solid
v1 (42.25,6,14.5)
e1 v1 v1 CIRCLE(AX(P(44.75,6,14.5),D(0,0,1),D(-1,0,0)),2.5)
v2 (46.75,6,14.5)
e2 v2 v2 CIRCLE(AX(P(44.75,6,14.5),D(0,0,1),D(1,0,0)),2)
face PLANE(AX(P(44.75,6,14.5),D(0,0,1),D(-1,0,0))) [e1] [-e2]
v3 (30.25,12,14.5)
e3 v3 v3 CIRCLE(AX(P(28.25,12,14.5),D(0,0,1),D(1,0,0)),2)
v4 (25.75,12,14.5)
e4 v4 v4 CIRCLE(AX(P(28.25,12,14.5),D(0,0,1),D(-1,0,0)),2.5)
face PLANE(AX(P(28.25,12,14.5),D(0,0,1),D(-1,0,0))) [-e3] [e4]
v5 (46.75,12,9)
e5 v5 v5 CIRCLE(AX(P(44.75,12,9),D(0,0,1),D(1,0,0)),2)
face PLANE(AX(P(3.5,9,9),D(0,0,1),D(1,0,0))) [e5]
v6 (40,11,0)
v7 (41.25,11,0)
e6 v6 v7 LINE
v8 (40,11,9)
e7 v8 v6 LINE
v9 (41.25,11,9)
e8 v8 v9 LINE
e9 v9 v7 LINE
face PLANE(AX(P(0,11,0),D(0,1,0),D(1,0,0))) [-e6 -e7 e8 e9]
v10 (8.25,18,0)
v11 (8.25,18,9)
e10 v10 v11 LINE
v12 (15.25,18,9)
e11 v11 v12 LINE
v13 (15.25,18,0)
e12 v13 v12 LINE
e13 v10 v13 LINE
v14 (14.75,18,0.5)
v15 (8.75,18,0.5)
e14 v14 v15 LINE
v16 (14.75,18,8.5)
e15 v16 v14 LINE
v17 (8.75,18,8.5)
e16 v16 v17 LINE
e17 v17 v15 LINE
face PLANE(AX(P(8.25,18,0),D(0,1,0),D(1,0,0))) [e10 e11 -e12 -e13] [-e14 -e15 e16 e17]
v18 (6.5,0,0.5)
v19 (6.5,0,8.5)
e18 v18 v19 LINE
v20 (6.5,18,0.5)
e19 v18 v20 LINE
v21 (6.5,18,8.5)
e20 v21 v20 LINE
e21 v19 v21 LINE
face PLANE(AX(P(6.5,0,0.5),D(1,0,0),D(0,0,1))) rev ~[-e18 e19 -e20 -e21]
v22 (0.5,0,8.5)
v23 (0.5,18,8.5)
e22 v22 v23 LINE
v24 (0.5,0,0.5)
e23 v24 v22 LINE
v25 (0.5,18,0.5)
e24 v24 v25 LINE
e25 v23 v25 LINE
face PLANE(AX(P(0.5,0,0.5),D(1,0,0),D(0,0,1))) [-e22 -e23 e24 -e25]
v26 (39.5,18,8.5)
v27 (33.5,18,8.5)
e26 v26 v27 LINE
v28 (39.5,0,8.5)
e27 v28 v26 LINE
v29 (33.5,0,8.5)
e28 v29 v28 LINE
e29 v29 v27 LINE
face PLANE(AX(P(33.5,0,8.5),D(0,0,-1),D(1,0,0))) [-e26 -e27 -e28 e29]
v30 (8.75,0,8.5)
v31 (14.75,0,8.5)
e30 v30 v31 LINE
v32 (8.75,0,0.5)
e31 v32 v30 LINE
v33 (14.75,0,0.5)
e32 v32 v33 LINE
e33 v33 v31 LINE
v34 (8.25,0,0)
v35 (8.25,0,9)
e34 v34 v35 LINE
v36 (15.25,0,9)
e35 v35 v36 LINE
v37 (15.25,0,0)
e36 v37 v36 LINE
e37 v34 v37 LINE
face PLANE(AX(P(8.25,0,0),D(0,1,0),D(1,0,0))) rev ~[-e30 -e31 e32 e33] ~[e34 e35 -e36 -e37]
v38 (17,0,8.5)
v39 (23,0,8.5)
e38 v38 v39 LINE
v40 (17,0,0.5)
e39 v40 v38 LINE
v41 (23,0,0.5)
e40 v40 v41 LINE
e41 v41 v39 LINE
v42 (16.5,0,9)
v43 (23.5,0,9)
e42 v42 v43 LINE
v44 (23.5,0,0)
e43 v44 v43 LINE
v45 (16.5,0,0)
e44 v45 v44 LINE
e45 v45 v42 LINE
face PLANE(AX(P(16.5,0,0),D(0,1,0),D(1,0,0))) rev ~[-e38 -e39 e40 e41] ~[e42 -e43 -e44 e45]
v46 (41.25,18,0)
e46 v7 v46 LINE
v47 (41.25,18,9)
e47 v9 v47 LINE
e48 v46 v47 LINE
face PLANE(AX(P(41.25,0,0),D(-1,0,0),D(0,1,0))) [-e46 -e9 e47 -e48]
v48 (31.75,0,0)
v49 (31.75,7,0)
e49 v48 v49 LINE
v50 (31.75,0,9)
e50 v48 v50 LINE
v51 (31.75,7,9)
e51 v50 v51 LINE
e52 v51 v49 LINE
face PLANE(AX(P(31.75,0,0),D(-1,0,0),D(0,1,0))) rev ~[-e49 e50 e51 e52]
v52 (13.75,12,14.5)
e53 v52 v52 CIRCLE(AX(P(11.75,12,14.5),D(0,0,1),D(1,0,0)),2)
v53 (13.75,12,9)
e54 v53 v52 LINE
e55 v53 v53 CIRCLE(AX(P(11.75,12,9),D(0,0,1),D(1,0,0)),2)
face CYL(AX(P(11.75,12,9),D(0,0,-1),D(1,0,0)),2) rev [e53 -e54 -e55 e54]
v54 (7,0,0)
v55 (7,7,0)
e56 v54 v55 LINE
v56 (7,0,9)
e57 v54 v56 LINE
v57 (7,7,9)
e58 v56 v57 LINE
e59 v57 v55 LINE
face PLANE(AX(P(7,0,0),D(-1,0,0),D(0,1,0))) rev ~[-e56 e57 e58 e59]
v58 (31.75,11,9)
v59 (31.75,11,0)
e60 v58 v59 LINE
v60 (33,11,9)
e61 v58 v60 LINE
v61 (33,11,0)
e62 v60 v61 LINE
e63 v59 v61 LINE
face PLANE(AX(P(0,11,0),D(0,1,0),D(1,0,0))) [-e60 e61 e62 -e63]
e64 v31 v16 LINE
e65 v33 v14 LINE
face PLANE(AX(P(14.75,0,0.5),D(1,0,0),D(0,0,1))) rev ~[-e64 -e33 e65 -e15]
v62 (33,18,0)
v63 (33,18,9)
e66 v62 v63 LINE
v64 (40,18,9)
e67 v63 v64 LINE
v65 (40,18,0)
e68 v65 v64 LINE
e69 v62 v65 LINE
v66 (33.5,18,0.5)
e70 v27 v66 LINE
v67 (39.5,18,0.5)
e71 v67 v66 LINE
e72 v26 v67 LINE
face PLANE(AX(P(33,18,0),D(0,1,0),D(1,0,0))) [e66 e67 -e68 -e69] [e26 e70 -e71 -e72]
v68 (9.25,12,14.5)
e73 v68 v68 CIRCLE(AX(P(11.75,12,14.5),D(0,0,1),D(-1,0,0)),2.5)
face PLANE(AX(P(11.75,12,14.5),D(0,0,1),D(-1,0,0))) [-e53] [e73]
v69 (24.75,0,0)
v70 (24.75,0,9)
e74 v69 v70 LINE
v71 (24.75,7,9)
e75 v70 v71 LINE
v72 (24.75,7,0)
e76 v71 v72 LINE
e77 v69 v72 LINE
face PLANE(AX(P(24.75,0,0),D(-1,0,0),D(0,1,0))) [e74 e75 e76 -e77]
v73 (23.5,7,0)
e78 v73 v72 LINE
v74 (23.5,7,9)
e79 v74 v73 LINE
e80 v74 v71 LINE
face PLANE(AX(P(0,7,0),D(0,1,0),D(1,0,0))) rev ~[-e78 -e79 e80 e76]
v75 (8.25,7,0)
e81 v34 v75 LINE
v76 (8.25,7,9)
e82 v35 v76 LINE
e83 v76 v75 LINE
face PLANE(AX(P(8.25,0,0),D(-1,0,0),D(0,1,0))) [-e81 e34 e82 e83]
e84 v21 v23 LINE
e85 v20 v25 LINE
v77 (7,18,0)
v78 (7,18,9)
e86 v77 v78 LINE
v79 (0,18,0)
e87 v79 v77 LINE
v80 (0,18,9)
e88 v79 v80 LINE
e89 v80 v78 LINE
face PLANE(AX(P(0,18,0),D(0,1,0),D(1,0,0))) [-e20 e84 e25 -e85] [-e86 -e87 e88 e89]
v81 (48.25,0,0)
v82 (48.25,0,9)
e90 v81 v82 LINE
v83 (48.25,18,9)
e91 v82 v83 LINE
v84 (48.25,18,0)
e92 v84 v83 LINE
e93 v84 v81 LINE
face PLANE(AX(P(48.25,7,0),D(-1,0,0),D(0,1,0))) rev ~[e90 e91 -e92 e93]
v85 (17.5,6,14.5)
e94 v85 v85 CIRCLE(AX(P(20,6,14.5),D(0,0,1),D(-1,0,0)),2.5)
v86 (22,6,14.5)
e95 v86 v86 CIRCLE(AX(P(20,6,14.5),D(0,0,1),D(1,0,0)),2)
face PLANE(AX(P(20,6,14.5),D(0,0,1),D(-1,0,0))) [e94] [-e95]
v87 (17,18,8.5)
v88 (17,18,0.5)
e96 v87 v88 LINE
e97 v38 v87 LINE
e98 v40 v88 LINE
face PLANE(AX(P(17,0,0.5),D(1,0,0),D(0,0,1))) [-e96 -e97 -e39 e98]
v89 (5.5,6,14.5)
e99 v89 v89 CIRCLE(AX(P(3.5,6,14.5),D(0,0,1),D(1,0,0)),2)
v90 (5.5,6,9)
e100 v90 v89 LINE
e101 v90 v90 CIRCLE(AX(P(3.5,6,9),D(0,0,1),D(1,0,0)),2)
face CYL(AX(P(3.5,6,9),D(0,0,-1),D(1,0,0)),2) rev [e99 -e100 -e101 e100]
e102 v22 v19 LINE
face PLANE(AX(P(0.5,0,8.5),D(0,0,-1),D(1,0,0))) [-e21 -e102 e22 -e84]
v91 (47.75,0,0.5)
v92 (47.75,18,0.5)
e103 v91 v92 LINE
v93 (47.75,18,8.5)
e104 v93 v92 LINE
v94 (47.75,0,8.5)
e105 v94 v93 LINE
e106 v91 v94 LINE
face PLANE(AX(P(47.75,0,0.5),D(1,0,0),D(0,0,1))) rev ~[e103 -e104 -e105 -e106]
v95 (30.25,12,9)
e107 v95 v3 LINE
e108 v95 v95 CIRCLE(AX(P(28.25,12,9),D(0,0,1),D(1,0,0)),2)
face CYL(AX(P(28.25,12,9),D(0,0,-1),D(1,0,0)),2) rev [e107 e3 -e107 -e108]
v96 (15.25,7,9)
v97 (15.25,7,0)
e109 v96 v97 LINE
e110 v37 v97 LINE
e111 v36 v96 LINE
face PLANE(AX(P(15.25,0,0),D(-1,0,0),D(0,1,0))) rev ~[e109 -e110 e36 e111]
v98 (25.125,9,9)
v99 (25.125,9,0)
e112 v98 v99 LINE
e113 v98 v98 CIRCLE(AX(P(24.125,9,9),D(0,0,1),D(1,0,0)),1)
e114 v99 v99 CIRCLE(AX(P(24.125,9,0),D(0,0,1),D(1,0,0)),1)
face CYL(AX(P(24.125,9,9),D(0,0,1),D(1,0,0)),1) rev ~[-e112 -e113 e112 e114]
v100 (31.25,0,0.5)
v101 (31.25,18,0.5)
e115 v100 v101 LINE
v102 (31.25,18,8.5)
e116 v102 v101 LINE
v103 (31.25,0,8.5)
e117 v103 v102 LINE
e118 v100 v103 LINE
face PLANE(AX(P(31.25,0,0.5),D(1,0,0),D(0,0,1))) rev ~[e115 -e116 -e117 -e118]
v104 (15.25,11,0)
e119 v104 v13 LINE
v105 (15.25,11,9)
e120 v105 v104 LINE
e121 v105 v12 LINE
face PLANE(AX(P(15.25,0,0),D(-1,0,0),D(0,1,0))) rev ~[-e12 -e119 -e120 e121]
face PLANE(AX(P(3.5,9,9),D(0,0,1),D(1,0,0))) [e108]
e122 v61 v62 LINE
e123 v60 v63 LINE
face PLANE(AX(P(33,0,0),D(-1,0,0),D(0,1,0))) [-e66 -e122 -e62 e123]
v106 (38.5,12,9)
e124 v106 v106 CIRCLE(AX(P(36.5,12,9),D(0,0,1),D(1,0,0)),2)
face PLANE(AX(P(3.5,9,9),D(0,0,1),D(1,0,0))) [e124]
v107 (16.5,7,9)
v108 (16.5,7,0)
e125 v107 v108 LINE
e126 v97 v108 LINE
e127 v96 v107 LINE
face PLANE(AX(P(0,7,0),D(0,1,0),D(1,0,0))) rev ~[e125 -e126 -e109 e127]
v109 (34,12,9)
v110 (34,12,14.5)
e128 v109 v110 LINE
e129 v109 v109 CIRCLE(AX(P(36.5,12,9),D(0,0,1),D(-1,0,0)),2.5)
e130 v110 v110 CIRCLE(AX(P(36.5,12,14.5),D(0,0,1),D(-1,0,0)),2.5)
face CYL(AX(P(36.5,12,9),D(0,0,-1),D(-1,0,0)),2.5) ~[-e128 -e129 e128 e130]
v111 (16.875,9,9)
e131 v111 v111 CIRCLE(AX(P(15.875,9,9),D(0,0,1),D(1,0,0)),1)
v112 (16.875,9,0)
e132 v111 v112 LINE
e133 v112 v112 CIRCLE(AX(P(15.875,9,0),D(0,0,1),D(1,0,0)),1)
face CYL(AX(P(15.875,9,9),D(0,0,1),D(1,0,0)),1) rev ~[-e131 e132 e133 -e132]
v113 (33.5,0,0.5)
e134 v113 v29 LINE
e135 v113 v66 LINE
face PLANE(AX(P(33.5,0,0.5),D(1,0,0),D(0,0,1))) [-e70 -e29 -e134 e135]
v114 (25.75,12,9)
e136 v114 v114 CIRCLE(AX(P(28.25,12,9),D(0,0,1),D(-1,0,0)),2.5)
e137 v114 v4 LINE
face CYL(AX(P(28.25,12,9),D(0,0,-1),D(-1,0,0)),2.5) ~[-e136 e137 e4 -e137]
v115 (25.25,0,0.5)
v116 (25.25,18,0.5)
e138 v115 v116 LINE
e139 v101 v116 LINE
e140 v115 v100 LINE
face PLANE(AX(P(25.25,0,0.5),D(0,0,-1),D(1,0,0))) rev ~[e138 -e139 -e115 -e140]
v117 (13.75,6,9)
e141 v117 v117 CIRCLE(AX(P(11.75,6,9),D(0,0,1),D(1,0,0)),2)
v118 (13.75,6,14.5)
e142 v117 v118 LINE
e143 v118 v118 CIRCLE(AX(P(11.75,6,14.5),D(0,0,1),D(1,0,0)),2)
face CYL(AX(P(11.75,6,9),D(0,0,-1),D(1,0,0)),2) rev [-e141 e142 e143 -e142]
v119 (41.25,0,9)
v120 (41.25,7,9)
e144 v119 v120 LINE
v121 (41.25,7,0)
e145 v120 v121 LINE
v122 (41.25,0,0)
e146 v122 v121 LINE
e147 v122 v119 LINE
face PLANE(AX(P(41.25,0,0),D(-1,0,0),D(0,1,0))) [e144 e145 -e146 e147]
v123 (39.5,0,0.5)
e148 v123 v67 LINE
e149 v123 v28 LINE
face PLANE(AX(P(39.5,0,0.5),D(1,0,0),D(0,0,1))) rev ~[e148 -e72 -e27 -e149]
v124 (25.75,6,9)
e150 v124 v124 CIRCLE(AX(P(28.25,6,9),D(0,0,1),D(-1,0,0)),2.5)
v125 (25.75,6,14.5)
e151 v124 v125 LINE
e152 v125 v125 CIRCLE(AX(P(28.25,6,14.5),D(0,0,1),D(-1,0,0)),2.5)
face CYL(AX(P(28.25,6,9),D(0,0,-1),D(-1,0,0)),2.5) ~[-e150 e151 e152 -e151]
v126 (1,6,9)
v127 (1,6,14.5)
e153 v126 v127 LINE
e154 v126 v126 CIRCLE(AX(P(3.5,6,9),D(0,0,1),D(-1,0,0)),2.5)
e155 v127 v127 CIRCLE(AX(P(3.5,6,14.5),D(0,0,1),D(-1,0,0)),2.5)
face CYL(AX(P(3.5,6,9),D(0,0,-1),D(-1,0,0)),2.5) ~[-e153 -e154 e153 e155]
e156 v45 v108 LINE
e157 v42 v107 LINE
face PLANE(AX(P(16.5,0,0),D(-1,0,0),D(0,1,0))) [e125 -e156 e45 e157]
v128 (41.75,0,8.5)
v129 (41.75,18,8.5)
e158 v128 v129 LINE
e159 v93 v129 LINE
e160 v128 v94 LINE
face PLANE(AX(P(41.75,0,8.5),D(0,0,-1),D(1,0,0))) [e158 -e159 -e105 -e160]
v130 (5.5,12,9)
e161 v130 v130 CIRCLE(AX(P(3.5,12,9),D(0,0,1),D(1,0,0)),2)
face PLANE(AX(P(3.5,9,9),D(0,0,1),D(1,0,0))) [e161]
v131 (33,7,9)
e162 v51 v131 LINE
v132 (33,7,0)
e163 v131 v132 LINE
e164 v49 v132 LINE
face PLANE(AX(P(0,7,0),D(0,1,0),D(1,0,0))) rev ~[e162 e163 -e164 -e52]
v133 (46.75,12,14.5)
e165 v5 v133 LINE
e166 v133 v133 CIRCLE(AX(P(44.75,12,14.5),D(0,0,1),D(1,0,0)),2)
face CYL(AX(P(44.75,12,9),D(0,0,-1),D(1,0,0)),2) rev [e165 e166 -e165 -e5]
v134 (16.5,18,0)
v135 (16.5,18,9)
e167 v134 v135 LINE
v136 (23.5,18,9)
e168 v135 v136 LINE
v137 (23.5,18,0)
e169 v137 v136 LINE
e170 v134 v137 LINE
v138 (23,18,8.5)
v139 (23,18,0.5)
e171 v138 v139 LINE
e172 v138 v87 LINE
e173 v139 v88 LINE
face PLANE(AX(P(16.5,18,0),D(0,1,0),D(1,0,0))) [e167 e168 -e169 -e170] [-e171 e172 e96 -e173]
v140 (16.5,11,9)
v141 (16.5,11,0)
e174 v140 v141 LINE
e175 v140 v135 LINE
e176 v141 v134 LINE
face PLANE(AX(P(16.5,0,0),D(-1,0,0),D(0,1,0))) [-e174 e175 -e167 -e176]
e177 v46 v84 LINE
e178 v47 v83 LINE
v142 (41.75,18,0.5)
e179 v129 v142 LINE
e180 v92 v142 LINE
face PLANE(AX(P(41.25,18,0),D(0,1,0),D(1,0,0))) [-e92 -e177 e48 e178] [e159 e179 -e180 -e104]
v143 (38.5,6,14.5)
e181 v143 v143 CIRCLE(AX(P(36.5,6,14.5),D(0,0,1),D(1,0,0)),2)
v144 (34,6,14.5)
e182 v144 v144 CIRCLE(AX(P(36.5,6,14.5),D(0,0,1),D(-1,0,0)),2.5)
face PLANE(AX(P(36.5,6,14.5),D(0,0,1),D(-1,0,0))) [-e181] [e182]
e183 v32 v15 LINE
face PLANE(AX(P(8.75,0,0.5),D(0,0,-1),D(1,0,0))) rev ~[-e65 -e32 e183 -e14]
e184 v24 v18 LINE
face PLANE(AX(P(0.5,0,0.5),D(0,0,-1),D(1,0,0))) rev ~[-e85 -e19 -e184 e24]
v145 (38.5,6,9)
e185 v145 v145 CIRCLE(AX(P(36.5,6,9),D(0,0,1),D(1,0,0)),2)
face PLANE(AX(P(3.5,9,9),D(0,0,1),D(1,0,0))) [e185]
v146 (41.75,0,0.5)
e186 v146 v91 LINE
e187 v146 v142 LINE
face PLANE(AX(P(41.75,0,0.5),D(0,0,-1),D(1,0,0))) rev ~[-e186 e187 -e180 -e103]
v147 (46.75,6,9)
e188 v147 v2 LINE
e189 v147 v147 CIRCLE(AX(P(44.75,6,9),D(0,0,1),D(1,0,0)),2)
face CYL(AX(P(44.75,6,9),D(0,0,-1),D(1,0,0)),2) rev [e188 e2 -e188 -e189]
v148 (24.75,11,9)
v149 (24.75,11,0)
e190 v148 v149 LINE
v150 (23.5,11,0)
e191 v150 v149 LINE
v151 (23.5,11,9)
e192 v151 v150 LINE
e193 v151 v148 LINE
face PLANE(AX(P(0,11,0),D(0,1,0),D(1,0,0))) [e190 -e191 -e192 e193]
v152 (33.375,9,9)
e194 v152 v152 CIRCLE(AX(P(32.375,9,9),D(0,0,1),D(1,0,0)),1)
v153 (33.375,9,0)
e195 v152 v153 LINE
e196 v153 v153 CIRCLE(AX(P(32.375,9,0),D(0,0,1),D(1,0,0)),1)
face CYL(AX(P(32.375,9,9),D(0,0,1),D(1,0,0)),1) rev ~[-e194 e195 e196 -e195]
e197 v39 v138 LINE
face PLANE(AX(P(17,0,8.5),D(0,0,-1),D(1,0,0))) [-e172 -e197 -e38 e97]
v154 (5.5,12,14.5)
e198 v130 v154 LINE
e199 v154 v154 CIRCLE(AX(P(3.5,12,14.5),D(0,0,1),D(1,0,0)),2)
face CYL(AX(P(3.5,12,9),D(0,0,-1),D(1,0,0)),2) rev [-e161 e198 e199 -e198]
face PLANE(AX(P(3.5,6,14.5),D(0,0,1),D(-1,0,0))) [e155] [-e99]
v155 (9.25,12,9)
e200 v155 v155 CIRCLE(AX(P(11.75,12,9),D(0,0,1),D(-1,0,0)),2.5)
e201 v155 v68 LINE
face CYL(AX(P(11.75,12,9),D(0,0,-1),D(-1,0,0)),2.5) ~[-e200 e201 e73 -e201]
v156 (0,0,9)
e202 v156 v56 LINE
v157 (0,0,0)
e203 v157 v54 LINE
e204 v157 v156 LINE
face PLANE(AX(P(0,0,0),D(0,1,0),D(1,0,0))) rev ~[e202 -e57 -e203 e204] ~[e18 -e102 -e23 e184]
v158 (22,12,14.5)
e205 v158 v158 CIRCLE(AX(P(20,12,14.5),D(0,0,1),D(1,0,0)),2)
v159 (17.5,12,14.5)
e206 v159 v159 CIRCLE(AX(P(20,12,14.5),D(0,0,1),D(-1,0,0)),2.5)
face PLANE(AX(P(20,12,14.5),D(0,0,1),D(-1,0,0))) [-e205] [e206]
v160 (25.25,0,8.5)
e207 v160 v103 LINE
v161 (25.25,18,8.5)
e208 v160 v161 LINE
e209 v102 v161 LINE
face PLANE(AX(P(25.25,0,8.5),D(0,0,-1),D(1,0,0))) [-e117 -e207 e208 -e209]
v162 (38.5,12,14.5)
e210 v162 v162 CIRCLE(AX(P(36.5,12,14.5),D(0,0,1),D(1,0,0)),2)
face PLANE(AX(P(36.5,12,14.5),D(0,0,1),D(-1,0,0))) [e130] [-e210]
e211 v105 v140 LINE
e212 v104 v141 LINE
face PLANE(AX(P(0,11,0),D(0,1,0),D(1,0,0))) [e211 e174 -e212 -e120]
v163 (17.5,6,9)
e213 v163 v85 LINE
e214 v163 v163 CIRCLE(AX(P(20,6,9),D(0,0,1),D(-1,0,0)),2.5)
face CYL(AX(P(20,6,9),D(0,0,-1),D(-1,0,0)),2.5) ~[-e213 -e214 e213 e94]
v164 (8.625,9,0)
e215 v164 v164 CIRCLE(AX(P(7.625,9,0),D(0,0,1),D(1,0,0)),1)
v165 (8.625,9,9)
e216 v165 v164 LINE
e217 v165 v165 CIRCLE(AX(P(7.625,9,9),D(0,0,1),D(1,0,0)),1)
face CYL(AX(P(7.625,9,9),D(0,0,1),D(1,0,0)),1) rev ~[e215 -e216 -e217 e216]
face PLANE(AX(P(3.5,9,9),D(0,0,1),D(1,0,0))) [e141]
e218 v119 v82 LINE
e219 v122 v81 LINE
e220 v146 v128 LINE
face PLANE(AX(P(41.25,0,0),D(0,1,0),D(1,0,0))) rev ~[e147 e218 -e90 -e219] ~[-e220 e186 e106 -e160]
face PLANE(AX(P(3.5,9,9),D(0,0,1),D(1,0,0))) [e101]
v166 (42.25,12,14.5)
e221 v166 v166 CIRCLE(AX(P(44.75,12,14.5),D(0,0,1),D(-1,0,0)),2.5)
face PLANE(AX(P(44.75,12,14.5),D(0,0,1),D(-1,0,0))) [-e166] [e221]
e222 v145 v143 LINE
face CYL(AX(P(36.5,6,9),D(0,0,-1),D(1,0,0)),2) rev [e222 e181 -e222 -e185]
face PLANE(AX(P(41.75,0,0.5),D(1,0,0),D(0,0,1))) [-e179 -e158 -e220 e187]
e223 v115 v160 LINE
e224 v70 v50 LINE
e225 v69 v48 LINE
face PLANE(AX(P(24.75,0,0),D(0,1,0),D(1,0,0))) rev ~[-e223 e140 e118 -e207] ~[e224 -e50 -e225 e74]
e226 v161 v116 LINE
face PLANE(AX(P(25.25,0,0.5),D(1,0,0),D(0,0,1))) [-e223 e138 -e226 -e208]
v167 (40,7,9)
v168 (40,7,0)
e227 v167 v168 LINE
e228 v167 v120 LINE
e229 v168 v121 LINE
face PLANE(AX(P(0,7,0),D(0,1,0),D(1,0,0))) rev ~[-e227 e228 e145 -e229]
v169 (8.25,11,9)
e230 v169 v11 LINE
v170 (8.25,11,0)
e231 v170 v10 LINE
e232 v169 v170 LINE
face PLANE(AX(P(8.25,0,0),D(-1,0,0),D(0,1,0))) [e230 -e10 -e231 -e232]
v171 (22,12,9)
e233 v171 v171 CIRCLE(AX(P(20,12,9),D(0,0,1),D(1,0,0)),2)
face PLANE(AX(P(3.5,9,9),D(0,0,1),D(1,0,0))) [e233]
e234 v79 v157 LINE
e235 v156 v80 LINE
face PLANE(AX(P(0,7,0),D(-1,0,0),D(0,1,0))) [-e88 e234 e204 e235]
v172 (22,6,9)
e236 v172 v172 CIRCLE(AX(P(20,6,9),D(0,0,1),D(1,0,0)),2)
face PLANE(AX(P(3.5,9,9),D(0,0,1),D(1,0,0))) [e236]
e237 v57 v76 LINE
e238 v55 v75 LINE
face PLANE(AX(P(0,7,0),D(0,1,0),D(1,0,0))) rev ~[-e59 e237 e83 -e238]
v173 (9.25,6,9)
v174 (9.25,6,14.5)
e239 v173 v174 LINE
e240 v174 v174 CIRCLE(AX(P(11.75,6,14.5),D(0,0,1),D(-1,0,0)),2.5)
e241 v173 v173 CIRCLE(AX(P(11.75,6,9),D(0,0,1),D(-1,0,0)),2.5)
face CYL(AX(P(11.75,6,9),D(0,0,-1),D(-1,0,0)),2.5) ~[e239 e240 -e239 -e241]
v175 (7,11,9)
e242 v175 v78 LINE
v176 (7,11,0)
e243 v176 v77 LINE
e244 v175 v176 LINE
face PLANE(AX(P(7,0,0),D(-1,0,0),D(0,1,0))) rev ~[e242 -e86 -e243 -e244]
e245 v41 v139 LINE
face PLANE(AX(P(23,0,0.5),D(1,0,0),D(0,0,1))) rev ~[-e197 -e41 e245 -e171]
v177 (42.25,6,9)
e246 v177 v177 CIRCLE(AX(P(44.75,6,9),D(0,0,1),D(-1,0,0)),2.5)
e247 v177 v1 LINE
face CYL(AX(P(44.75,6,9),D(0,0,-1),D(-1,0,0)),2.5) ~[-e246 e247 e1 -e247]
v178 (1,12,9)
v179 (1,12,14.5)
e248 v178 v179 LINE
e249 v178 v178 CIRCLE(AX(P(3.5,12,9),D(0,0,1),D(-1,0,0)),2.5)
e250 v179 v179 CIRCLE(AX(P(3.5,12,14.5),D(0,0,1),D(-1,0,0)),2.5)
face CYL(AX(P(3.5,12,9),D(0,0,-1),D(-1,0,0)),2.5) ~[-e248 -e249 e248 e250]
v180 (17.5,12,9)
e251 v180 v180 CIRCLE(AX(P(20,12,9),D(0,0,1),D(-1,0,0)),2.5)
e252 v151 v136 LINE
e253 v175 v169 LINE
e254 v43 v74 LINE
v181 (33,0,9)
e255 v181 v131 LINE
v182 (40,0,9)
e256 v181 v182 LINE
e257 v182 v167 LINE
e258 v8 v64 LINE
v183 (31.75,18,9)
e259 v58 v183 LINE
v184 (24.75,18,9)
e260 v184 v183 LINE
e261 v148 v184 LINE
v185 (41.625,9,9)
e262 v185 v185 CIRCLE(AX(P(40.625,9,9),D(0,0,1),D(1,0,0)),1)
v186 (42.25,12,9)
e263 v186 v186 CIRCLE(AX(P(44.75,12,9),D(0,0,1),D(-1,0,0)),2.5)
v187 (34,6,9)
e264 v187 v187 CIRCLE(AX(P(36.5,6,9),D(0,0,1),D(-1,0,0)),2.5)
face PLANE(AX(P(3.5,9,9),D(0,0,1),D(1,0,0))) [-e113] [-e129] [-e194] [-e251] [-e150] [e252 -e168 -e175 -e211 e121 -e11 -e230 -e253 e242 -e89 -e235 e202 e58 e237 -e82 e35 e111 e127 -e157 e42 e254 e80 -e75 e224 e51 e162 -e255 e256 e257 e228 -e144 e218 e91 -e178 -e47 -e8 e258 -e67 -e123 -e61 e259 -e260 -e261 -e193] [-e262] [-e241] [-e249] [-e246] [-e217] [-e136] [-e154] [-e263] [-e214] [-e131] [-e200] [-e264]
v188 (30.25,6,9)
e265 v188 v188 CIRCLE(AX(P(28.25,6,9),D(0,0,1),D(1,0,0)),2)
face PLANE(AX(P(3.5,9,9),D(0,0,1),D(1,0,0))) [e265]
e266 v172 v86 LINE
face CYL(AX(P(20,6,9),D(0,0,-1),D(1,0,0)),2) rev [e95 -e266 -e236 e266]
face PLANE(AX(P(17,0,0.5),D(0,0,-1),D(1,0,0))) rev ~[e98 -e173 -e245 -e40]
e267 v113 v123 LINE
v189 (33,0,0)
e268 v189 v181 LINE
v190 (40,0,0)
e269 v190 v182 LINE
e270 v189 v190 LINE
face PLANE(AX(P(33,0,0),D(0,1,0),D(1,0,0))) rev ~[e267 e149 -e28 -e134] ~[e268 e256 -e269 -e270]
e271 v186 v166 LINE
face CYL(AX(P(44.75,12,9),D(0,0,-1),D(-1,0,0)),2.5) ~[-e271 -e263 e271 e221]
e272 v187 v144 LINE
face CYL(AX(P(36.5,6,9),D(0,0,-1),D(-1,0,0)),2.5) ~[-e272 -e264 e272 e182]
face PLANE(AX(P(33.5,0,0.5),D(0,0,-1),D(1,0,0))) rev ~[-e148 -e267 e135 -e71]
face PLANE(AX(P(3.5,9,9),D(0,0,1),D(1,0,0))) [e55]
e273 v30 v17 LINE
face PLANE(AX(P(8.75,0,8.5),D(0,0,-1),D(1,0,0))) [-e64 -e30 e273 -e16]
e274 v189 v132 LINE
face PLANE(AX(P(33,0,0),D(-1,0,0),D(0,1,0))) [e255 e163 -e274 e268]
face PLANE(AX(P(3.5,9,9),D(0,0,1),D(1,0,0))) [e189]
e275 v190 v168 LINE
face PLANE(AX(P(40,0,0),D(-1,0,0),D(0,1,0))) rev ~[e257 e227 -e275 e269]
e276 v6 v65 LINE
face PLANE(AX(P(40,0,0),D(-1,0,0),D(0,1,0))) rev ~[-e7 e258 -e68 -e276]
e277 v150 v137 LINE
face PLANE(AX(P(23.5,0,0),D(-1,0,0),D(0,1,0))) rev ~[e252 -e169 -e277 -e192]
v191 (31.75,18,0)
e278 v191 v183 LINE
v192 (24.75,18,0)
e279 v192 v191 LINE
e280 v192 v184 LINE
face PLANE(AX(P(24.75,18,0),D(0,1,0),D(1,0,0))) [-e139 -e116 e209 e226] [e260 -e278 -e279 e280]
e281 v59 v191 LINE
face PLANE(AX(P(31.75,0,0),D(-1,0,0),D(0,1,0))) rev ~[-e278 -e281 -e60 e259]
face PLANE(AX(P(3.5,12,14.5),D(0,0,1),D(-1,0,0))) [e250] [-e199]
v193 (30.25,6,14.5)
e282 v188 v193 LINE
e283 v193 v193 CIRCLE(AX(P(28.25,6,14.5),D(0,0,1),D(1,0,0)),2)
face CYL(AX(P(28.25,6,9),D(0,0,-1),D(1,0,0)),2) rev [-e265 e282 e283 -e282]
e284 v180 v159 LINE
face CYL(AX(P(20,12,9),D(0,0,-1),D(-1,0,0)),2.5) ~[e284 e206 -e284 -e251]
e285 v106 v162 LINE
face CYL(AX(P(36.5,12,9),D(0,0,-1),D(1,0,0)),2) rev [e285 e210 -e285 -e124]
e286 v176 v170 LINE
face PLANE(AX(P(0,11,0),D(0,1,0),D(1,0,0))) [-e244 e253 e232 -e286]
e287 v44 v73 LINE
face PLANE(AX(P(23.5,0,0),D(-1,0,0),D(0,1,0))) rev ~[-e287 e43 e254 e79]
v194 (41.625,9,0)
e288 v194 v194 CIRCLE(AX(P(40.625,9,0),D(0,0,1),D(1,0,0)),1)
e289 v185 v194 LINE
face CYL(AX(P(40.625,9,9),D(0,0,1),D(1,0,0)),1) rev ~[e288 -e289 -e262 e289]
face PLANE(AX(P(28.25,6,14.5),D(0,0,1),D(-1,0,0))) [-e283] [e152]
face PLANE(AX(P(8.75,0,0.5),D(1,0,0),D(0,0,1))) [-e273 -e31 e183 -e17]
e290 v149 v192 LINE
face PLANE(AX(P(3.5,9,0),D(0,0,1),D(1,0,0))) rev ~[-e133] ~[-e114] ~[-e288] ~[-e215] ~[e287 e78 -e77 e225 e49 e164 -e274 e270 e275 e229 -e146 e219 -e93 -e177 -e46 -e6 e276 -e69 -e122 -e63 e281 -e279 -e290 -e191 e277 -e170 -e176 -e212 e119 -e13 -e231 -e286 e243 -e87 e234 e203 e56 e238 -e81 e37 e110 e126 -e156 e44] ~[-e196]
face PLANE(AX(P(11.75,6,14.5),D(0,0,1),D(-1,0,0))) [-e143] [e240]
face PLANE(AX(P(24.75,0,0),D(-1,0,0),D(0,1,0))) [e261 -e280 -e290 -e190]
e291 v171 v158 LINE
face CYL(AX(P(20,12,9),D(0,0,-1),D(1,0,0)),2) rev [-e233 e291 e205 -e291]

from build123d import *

# Parameters (mm, degrees)
CROQUIS1_W                = 7
CROQUIS1_H                = 18
SALIENTE_EXTRUIR1_DEPTH   = 9
SALIENTE_EXTRUIR1_2_DEPTH = 9
SALIENTE_EXTRUIR1_3_DEPTH = 9
SALIENTE_EXTRUIR1_4_DEPTH = 9
SALIENTE_EXTRUIR1_5_DEPTH = 9
SALIENTE_EXTRUIR1_6_DEPTH = 9
CROQUIS2_W                = 48.25
CROQUIS2_H                = 4
SALIENTE_EXTRUIR2_DEPTH   = 9
CROQUIS3_R                = 2.5
CROQUIS3_R_2              = 2
SALIENTE_EXTRUIR3_DEPTH   = 5.5
CROQUIS4_R                = 1
CORTAR_EXTRUIR1_DEPTH     = 53.278700252
CROQUIS5_W                = 6
CROQUIS5_H                = 8
CORTAR_EXTRUIR2_DEPTH     = 54.500584109


with BuildPart() as part:
    # Croquis1 → Saliente-Extruir1 (new body)
    with BuildSketch(Plane.XY):
        with Locations((11.75, 9)):
            Rectangle(CROQUIS1_W, CROQUIS1_H)
    extrude(amount=SALIENTE_EXTRUIR1_DEPTH)



with BuildPart() as body_2:
    # Croquis1 → Saliente-Extruir1 2 (new body)
    with BuildSketch(Plane.XY):
        with Locations((3.5, 9)):
            Rectangle(CROQUIS1_W, CROQUIS1_H)
    extrude(amount=SALIENTE_EXTRUIR1_2_DEPTH)


with BuildPart() as body_3:
    # Croquis1 → Saliente-Extruir1 3 (new body)
    with BuildSketch(Plane.XY):
        with Locations((20, 9)):
            Rectangle(CROQUIS1_W, CROQUIS1_H)
    extrude(amount=SALIENTE_EXTRUIR1_3_DEPTH)


with BuildPart() as body_4:
    # Croquis1 → Saliente-Extruir1 4 (new body)
    with BuildSketch(Plane.XY):
        with Locations((28.25, 9)):
            Rectangle(CROQUIS1_W, CROQUIS1_H)
    extrude(amount=SALIENTE_EXTRUIR1_4_DEPTH)


with BuildPart() as body_5:
    # Croquis1 → Saliente-Extruir1 5 (new body)
    with BuildSketch(Plane.XY):
        with Locations((36.5, 9)):
            Rectangle(CROQUIS1_W, CROQUIS1_H)
    extrude(amount=SALIENTE_EXTRUIR1_5_DEPTH)


with BuildPart() as body_6:
    # Croquis1 → Saliente-Extruir1 6 (new body)
    with BuildSketch(Plane.XY):
        with Locations((44.75, 9)):
            Rectangle(CROQUIS1_W, CROQUIS1_H)
    extrude(amount=SALIENTE_EXTRUIR1_6_DEPTH)


with BuildPart() as part_1:
    add(part.part)

    add(body_2.part)  # Saliente-Extruir2 merges body 2

    add(body_3.part)  # Saliente-Extruir2 merges body 3

    add(body_4.part)  # Saliente-Extruir2 merges body 4

    add(body_5.part)  # Saliente-Extruir2 merges body 5

    add(body_6.part)  # Saliente-Extruir2 merges body 6
    # Croquis2 → Saliente-Extruir2 (add)
    with BuildSketch(Plane.XY):
        with Locations((24.125, 9)):
            Rectangle(CROQUIS2_W, CROQUIS2_H)
    extrude(amount=SALIENTE_EXTRUIR2_DEPTH)

    # Croquis3 → Saliente-Extruir3 (add)
    # profile 1 of 12: a face of its own
    with BuildSketch(Plane.XY.offset(9)):
        with Locations(Location((3.5, 12, 0), (0, 0, 180))):
            Circle(CROQUIS3_R)
        with Locations((3.5, 12)):
            Circle(CROQUIS3_R_2, mode=Mode.SUBTRACT)
    # profile 2 of 12: a face of its own
    with BuildSketch(Plane.XY.offset(9)):
        with Locations(Location((11.75, 12, 0), (0, 0, 180))):
            Circle(CROQUIS3_R)
        with Locations((11.75, 12)):
            Circle(CROQUIS3_R_2, mode=Mode.SUBTRACT)
    # profile 3 of 12: a face of its own
    with BuildSketch(Plane.XY.offset(9)):
        with Locations(Location((20, 12, 0), (0, 0, 180))):
            Circle(CROQUIS3_R)
        with Locations((20, 12)):
            Circle(CROQUIS3_R_2, mode=Mode.SUBTRACT)
    # profile 4 of 12: a face of its own
    with BuildSketch(Plane.XY.offset(9)):
        with Locations(Location((28.25, 12, 0), (0, 0, 180))):
            Circle(CROQUIS3_R)
        with Locations((28.25, 12)):
            Circle(CROQUIS3_R_2, mode=Mode.SUBTRACT)
    # profile 5 of 12: a face of its own
    with BuildSketch(Plane.XY.offset(9)):
        with Locations(Location((36.5, 12, 0), (0, 0, 180))):
            Circle(CROQUIS3_R)
        with Locations((36.5, 12)):
            Circle(CROQUIS3_R_2, mode=Mode.SUBTRACT)
    # profile 6 of 12: a face of its own
    with BuildSketch(Plane.XY.offset(9)):
        with Locations(Location((44.75, 12, 0), (0, 0, 180))):
            Circle(CROQUIS3_R)
        with Locations((44.75, 12)):
            Circle(CROQUIS3_R_2, mode=Mode.SUBTRACT)
    # profile 7 of 12: a face of its own
    with BuildSketch(Plane.XY.offset(9)):
        with Locations(Location((11.75, 6, 0), (0, 0, 180))):
            Circle(CROQUIS3_R)
        with Locations((11.75, 6)):
            Circle(CROQUIS3_R_2, mode=Mode.SUBTRACT)
    # profile 8 of 12: a face of its own
    with BuildSketch(Plane.XY.offset(9)):
        with Locations(Location((20, 6, 0), (0, 0, 180))):
            Circle(CROQUIS3_R)
        with Locations((20, 6)):
            Circle(CROQUIS3_R_2, mode=Mode.SUBTRACT)
    # profile 9 of 12: a face of its own
    with BuildSketch(Plane.XY.offset(9)):
        with Locations(Location((28.25, 6, 0), (0, 0, 180))):
            Circle(CROQUIS3_R)
        with Locations((28.25, 6)):
            Circle(CROQUIS3_R_2, mode=Mode.SUBTRACT)
    # profile 10 of 12: a face of its own
    with BuildSketch(Plane.XY.offset(9)):
        with Locations(Location((36.5, 6, 0), (0, 0, 180))):
            Circle(CROQUIS3_R)
        with Locations((36.5, 6)):
            Circle(CROQUIS3_R_2, mode=Mode.SUBTRACT)
    # profile 11 of 12: a face of its own
    with BuildSketch(Plane.XY.offset(9)):
        with Locations(Location((44.75, 6, 0), (0, 0, 180))):
            Circle(CROQUIS3_R)
        with Locations((44.75, 6)):
            Circle(CROQUIS3_R_2, mode=Mode.SUBTRACT)
    # profile 12 of 12: a face of its own
    with BuildSketch(Plane.XY.offset(9)):
        with Locations(Location((3.5, 6, 0), (0, 0, 180))):
            Circle(CROQUIS3_R)
        with Locations((3.5, 6)):
            Circle(CROQUIS3_R_2, mode=Mode.SUBTRACT)
    extrude(amount=SALIENTE_EXTRUIR3_DEPTH)

    # Croquis4 → Cortar-Extruir1 (cut, through all)
    with BuildSketch(Plane.XY.offset(9)):
        with Locations((7.625, 9)):
            Circle(CROQUIS4_R)
        with Locations((15.875, 9)):
            Circle(CROQUIS4_R)
        with Locations((24.125, 9)):
            Circle(CROQUIS4_R)
        with Locations((32.375, 9)):
            Circle(CROQUIS4_R)
        with Locations((40.625, 9)):
            Circle(CROQUIS4_R)
    extrude(amount=-CORTAR_EXTRUIR1_DEPTH, mode=Mode.SUBTRACT)

    # Croquis5 → Cortar-Extruir2 (cut, through all)
    with BuildSketch(Plane.XZ):
        with Locations((3.5, 4.5)):
            Rectangle(CROQUIS5_W, CROQUIS5_H)
        with Locations((11.75, 4.5)):
            Rectangle(CROQUIS5_W, CROQUIS5_H)
        with Locations((20, 4.5)):
            Rectangle(CROQUIS5_W, CROQUIS5_H)
        with Locations((28.25, 4.5)):
            Rectangle(CROQUIS5_W, CROQUIS5_H)
        with Locations((36.5, 4.5)):
            Rectangle(CROQUIS5_W, CROQUIS5_H)
        with Locations((44.75, 4.5)):
            Rectangle(CROQUIS5_W, CROQUIS5_H)
    extrude(amount=-CORTAR_EXTRUIR2_DEPTH, mode=Mode.SUBTRACT)


solid = part_1.part
